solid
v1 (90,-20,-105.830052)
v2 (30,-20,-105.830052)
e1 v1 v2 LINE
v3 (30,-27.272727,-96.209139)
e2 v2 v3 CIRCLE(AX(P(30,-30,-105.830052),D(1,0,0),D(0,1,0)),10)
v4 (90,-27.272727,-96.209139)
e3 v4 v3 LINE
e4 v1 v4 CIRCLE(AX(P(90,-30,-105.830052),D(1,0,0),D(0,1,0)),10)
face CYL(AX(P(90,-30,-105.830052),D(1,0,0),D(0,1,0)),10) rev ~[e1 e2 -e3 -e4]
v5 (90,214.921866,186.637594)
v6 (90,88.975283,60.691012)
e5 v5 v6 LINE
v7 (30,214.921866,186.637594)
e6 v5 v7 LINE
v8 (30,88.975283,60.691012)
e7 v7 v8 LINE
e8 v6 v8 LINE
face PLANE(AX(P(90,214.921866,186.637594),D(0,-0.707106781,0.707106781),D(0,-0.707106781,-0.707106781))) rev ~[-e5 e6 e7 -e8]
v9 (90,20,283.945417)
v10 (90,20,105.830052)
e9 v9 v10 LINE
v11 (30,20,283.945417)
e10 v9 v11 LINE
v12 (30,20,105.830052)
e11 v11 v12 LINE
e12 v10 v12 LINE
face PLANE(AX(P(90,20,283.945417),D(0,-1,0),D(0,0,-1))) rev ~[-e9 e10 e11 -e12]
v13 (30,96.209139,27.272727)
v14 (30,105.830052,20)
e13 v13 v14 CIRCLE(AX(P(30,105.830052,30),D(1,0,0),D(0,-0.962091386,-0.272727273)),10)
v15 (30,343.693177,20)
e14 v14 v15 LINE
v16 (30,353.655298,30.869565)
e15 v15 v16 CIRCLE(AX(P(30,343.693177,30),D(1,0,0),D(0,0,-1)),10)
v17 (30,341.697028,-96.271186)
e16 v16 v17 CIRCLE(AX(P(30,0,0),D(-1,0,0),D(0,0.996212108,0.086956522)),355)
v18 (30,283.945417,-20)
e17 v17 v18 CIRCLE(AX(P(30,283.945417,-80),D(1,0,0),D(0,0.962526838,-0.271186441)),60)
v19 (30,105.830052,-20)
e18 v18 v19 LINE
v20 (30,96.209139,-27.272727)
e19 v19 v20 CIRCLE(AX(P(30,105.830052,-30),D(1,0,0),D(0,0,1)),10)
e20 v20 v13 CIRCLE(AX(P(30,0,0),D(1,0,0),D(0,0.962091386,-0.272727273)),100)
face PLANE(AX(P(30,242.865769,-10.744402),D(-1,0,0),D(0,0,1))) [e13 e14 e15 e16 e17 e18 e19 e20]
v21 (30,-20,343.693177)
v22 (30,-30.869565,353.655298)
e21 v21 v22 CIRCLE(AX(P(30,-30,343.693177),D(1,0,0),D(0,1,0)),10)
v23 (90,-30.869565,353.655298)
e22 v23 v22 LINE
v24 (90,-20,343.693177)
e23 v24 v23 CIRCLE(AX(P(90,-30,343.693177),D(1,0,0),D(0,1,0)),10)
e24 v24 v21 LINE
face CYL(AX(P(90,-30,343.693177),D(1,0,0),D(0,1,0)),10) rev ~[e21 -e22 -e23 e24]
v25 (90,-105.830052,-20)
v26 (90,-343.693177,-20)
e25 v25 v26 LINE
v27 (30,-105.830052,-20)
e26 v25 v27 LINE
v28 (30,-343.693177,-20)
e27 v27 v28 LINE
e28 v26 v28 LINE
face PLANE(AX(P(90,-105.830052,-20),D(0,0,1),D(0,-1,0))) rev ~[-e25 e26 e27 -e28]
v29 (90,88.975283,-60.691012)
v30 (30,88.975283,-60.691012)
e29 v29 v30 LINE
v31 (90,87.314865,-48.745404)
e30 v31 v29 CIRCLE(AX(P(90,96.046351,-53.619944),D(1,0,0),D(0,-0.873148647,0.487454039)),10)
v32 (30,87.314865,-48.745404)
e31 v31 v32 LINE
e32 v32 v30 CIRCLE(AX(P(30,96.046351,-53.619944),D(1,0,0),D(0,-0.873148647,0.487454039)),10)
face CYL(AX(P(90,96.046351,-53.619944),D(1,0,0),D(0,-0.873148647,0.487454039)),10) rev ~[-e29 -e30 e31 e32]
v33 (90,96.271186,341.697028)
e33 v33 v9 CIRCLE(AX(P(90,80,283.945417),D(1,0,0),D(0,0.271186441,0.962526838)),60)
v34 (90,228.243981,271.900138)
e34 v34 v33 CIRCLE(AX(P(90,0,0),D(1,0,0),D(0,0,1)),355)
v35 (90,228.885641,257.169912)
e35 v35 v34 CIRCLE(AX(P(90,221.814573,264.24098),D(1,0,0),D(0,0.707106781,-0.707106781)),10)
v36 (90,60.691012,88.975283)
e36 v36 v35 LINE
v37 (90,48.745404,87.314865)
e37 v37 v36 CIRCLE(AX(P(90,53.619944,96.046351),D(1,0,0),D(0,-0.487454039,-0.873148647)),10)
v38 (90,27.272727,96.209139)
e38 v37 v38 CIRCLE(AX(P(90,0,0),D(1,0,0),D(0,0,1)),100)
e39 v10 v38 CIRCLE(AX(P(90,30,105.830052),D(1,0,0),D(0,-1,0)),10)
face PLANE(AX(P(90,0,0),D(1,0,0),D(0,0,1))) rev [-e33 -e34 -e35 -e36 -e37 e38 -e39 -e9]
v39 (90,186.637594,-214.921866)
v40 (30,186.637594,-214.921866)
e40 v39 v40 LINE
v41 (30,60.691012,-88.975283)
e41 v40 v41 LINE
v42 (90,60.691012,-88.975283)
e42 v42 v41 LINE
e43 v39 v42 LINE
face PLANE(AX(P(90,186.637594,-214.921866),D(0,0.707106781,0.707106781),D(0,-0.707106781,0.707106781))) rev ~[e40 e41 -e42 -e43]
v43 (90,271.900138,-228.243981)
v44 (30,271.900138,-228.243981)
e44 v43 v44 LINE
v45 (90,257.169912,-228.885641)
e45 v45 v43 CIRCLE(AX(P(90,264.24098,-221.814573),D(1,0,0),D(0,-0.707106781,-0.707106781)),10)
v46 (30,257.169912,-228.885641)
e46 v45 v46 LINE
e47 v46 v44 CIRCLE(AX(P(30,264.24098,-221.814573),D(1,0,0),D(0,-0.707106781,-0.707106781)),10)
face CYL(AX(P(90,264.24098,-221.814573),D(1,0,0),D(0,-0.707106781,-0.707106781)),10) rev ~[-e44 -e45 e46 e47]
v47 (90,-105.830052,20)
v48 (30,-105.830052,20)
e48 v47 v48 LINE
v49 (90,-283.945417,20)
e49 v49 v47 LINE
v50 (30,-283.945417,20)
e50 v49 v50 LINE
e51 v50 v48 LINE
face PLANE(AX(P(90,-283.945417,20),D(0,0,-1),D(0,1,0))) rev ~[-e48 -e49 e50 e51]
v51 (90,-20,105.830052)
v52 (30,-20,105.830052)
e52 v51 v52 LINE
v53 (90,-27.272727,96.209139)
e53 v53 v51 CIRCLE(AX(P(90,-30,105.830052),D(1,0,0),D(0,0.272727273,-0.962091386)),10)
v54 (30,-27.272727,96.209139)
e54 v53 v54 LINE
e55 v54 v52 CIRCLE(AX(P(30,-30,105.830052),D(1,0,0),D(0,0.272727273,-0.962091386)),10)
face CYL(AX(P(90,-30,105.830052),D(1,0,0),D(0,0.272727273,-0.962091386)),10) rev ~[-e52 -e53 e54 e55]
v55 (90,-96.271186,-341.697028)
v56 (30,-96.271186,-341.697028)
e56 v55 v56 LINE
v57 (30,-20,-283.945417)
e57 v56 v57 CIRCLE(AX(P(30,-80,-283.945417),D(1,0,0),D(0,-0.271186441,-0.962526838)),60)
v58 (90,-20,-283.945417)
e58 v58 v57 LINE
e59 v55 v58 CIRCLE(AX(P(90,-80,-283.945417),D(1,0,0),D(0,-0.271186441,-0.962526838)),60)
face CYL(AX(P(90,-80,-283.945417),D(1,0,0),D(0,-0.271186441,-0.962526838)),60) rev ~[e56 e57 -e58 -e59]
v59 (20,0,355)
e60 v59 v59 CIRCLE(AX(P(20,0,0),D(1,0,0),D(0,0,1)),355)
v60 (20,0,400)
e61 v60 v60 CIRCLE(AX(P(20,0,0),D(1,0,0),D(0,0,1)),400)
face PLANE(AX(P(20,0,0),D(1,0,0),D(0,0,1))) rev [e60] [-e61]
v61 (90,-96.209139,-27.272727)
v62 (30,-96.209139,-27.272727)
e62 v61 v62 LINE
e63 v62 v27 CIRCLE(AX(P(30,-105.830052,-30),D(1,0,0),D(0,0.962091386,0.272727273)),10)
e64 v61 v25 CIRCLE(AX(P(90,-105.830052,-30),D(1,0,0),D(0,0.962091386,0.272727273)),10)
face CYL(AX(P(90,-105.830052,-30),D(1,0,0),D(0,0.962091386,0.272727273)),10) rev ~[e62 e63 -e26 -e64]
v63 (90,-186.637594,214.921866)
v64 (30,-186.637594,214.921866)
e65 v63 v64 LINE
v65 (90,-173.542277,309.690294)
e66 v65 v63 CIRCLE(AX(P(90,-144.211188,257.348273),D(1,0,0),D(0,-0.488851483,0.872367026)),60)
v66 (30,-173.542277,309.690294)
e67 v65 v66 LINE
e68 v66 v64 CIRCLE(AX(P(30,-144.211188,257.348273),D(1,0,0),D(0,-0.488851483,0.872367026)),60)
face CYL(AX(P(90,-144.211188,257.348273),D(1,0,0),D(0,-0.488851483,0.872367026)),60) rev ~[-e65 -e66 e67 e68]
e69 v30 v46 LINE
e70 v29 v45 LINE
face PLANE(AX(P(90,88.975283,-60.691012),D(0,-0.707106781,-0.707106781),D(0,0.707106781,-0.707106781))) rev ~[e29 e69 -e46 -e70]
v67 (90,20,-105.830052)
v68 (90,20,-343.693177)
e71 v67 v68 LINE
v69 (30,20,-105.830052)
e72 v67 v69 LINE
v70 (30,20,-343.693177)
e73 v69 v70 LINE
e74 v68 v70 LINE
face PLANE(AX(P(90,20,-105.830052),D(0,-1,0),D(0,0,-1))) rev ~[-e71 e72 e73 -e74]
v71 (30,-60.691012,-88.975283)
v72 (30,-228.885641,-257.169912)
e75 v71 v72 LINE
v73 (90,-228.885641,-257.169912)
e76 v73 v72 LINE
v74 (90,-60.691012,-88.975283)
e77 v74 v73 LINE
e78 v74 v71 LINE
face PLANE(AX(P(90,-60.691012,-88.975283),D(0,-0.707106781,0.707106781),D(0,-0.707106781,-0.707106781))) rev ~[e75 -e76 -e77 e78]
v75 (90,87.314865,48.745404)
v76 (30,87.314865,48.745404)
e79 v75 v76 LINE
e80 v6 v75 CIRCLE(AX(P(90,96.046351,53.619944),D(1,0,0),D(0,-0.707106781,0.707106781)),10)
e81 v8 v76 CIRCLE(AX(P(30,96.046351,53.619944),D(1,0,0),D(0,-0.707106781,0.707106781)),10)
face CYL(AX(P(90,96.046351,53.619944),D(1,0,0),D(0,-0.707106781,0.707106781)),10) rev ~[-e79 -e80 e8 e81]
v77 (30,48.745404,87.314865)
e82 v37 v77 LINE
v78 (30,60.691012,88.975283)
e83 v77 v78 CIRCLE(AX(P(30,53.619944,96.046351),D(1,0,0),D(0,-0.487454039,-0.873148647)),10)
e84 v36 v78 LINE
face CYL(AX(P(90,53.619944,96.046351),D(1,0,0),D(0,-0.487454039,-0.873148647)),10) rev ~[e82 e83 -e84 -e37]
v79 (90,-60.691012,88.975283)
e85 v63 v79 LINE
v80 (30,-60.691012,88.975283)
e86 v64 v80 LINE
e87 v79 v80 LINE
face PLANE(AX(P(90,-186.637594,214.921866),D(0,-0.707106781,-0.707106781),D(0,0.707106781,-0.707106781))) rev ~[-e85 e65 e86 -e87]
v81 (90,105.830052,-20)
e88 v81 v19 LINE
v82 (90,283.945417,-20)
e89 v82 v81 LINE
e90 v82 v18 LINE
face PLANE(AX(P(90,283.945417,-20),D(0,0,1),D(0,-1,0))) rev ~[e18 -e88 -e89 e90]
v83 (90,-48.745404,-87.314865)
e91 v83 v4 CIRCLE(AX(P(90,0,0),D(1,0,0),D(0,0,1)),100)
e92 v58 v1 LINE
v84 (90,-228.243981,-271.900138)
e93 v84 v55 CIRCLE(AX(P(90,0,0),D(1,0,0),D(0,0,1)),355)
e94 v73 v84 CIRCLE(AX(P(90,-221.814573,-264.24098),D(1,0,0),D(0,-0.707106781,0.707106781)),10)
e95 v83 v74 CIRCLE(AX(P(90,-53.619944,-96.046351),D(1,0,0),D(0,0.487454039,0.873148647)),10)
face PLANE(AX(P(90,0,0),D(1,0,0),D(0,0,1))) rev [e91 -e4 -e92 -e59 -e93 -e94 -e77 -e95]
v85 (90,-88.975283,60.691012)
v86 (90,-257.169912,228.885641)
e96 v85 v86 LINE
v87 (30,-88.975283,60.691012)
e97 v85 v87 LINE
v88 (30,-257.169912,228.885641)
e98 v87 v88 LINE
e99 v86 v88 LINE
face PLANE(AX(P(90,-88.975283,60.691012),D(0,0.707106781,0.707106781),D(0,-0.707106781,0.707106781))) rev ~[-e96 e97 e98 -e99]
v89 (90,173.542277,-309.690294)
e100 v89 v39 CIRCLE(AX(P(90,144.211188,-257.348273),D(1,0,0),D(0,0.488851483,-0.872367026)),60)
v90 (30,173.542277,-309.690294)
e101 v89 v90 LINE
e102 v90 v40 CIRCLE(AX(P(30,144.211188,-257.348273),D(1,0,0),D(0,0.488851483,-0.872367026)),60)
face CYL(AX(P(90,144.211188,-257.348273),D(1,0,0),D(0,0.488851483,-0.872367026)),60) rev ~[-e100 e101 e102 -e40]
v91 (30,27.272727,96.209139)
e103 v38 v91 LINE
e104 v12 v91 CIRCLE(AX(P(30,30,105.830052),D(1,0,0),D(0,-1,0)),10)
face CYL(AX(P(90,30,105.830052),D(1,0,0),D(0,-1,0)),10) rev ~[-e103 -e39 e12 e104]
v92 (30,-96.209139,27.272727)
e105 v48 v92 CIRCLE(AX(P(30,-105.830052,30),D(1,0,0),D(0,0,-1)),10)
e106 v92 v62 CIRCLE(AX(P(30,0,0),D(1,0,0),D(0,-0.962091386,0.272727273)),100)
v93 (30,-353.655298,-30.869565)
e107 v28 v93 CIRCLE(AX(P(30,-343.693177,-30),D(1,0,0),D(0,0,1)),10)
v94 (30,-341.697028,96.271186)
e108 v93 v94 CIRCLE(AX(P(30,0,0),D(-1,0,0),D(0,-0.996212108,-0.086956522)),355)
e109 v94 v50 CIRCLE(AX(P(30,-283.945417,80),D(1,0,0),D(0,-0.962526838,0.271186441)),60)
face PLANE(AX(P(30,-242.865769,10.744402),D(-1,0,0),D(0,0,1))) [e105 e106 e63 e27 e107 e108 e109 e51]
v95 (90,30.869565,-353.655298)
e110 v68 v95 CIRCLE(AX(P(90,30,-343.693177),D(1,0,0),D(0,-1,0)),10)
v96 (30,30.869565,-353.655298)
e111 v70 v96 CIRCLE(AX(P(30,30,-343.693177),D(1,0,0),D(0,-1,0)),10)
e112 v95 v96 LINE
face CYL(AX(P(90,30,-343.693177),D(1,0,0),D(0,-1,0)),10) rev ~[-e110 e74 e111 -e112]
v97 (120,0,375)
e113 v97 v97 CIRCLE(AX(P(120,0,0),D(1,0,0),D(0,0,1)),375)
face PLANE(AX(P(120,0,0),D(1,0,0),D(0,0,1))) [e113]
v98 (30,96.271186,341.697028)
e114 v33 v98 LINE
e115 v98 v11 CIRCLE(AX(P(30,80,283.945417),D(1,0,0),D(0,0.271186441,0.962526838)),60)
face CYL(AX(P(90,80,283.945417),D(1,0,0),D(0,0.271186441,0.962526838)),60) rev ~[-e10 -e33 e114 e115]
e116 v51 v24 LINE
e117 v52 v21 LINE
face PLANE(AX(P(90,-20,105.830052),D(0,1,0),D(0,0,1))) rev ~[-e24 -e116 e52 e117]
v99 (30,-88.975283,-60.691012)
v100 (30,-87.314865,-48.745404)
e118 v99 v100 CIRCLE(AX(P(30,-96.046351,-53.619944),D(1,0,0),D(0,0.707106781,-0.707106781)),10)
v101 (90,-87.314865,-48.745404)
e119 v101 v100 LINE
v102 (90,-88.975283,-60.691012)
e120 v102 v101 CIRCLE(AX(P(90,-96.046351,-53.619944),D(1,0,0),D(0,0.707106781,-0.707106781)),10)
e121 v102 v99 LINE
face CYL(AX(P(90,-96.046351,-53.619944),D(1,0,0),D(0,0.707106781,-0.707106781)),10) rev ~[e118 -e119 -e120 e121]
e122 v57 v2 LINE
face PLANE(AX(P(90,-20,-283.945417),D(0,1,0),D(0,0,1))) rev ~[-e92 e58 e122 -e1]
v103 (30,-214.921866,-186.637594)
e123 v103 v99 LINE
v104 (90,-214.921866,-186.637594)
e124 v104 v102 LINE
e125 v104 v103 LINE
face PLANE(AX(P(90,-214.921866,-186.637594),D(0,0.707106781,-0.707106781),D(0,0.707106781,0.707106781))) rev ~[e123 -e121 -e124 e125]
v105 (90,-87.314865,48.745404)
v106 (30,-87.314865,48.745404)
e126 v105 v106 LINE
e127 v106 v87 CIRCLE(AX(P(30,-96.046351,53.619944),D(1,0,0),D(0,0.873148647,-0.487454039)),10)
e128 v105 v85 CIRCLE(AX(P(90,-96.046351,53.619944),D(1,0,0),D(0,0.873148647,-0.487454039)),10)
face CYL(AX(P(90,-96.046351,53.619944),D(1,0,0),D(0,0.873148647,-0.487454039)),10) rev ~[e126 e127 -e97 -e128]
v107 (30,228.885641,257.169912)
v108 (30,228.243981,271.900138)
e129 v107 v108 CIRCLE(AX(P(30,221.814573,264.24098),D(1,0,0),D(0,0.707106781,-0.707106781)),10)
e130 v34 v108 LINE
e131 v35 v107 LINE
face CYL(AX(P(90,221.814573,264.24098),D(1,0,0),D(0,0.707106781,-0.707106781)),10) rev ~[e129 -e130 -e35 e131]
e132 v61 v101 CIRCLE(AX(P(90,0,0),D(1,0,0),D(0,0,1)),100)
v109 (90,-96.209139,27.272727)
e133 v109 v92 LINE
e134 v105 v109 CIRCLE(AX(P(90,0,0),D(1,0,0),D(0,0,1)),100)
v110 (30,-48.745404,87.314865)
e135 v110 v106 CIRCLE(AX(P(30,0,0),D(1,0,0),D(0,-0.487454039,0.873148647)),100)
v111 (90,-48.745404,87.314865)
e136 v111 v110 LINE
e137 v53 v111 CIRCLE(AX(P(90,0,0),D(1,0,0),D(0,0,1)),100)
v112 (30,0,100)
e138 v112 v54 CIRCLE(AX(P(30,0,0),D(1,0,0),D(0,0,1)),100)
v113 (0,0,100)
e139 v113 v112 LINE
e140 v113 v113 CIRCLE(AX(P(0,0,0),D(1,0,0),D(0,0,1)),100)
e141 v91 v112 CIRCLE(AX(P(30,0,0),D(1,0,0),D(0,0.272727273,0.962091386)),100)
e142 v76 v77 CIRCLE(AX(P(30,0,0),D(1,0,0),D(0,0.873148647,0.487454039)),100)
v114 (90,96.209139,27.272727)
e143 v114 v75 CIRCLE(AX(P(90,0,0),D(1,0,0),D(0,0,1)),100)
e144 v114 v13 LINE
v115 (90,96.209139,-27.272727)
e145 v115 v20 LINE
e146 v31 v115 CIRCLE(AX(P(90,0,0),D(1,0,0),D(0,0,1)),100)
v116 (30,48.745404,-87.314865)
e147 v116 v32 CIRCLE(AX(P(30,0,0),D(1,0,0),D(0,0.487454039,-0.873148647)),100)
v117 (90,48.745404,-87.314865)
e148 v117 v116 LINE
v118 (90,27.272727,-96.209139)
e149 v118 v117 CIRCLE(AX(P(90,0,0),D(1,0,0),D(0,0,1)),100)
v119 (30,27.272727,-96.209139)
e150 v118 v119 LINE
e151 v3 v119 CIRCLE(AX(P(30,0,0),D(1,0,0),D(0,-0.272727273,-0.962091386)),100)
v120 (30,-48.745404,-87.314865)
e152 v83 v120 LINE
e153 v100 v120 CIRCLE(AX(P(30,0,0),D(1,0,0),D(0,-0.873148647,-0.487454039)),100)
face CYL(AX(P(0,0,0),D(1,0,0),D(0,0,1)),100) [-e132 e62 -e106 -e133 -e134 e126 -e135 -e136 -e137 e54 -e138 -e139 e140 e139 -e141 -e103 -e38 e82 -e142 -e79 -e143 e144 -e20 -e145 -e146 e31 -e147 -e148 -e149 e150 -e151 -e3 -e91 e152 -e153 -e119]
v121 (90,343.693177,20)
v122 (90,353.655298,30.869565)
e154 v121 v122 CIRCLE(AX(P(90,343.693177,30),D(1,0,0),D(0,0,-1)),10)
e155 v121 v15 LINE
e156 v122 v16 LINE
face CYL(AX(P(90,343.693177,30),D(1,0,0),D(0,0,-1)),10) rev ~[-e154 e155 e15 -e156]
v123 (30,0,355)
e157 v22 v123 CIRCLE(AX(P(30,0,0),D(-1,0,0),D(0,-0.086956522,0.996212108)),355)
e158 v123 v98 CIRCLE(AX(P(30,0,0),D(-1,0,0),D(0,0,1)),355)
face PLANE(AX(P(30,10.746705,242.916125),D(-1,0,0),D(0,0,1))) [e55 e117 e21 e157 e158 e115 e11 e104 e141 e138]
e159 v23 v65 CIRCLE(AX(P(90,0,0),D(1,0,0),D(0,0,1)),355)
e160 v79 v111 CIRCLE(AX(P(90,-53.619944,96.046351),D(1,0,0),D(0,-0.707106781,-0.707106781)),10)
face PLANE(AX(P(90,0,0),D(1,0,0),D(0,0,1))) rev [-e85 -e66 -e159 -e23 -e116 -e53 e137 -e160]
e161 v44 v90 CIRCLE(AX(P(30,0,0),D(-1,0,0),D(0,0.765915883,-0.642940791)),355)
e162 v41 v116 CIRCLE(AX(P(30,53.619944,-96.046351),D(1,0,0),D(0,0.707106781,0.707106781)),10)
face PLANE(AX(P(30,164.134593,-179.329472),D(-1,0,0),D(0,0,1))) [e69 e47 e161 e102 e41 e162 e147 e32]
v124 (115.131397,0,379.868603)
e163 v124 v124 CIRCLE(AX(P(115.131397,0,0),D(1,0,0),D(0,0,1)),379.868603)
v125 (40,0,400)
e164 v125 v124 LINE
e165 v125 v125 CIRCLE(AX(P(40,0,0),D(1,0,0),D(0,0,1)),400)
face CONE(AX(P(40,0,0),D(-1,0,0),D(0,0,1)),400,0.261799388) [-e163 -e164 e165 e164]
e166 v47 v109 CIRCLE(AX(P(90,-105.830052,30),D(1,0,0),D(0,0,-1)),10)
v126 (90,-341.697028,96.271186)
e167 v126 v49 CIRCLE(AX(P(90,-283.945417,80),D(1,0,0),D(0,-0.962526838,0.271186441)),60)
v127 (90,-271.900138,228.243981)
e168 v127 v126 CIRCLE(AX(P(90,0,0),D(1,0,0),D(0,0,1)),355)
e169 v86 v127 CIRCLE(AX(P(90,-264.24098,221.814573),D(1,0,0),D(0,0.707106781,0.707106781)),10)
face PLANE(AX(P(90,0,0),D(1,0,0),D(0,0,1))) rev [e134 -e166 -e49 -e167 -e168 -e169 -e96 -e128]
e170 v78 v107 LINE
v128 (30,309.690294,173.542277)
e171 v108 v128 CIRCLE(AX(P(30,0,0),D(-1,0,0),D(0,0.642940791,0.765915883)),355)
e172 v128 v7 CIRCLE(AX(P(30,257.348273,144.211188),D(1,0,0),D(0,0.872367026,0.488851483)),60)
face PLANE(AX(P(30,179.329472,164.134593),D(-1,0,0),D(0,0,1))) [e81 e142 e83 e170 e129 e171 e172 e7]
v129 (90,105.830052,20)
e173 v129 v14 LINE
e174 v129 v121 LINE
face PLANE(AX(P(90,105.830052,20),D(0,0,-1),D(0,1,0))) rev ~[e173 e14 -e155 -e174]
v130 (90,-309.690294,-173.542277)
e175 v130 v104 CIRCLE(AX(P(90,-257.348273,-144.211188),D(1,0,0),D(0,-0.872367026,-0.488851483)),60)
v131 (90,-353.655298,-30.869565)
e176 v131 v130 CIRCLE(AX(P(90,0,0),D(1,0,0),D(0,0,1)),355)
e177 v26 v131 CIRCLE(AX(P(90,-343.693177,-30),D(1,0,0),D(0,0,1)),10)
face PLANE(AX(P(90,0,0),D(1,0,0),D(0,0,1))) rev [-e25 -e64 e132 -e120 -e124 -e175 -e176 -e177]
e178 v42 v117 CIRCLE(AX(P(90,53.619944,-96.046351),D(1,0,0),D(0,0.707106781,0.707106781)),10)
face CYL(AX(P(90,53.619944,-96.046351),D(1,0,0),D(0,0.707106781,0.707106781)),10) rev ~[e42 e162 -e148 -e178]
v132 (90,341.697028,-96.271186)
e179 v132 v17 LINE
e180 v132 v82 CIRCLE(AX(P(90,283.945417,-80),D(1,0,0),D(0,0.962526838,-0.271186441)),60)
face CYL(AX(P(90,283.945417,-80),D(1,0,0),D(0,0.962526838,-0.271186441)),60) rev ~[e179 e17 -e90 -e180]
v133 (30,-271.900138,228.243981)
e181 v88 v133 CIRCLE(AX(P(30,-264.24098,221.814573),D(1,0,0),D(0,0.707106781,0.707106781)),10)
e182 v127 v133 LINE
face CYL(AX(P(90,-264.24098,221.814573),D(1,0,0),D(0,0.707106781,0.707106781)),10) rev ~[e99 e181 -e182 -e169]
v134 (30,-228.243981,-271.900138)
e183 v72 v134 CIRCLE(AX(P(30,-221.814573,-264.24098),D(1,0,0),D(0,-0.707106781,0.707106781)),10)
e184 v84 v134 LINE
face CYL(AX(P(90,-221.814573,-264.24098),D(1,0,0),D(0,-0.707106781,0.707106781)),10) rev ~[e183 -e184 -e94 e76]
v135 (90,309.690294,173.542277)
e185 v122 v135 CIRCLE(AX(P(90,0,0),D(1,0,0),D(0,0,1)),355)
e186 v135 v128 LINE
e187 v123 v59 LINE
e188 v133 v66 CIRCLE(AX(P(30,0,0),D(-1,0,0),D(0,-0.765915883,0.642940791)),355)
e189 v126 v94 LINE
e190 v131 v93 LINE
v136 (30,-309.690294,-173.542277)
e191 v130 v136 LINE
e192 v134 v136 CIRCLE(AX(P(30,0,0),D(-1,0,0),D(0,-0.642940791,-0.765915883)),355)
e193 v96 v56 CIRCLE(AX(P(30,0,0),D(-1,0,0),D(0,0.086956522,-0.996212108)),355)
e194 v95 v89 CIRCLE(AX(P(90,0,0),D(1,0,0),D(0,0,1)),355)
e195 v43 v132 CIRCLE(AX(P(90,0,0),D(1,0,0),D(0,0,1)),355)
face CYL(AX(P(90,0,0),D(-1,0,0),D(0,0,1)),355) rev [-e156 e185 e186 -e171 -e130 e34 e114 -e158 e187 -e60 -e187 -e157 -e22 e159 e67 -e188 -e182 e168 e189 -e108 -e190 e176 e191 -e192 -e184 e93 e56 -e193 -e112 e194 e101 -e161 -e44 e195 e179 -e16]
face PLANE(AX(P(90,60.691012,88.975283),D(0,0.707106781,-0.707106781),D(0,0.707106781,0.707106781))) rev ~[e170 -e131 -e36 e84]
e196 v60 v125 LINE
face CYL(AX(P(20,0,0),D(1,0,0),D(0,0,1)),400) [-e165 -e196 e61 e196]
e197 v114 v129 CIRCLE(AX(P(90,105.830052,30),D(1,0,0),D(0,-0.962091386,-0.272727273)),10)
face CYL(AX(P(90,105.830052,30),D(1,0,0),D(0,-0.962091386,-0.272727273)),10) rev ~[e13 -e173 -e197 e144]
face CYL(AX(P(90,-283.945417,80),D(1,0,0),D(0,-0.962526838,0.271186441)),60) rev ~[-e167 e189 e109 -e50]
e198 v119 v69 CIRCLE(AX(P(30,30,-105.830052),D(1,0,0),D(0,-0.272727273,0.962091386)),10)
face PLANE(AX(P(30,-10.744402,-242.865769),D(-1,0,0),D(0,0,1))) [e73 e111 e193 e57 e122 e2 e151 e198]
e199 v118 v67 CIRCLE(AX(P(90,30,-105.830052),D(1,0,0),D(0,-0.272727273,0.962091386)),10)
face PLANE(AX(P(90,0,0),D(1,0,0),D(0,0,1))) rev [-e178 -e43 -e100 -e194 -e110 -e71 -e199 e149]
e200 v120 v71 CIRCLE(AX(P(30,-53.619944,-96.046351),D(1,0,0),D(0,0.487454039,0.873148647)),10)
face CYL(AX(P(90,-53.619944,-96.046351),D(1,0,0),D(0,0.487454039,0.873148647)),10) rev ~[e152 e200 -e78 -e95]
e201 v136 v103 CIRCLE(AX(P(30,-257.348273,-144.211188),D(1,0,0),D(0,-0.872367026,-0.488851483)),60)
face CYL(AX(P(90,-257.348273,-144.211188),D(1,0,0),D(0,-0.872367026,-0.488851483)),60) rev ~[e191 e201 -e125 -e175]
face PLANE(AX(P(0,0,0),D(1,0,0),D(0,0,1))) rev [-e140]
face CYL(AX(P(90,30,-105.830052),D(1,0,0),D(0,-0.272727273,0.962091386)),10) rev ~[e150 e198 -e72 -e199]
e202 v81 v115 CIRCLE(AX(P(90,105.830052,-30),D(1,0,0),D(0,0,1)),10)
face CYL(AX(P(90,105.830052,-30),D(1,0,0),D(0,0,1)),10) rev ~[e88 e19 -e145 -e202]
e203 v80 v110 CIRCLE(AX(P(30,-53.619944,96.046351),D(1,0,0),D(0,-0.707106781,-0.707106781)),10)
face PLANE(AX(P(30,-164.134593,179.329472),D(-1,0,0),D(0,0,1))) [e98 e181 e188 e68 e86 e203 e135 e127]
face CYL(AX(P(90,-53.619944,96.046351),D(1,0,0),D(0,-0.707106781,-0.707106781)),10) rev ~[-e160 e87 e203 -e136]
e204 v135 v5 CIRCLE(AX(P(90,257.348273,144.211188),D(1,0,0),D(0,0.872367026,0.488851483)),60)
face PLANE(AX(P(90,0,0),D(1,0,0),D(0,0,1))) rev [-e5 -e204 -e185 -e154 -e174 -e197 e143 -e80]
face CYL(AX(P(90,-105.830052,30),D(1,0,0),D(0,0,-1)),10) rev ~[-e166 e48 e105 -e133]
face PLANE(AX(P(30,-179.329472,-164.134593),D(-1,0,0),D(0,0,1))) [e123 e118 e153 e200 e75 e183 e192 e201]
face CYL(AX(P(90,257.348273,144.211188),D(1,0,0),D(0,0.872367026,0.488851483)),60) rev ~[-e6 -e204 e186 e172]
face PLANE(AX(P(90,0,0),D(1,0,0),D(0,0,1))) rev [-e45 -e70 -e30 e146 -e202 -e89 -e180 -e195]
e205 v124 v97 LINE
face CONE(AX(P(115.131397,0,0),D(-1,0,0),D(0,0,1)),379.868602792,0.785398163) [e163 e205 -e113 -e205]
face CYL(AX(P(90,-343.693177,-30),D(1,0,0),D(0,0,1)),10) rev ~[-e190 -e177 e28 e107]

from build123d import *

# Parameters (mm, degrees)
EXTRUDE_6_DEPTH = 60


with BuildPart() as part:
    # Эскиз1 → Повернуть7 (revolve)
    with BuildSketch(Plane.XY, mode=Mode.PRIVATE) as revolve_7_sk:
        Polygon((120, 0), (0, 0), (0, -100), (90, -100), (90, -355), (20, -355), (20, -400), (40, -400), (115.131397208, -379.868602792), (120, -375), align=None)
    revolve(revolve_7_sk.sketch.rotate(Axis((0, 0, 0), (1, 0, 0)), 270), axis=Axis((0, 0, 0), (1, 0, 0)))

    # Эскиз3 → Бобышка-Вытянуть6 (add)
    with BuildSketch(Plane.ZY.offset(-90)):
        with BuildLine():
            ThreePointArc((-48.745403909, -87.314864701), (-70.710678119, -70.710678119), (-87.314864701, -48.745403909))
            ThreePointArc((-87.314864701, -48.745403909), (-86.141576096, -54.996690721), (-88.975283359, -60.691012112))
            Line((-88.975283359, -60.691012112), (-257.169911814, -228.885640567))
            ThreePointArc((-257.169911814, -228.885640567), (-264.676174548, -231.805098536), (-271.900138456, -228.243980661))
            ThreePointArc((-271.900138456, -228.243980661), (-226.413585645, -273.42620254), (-173.542276552, -309.690294083))
            ThreePointArc((-173.542276552, -309.690294083), (-203.646432227, -265.561170399), (-186.637594429, -214.921865676))
            Line((-186.637594429, -214.921865676), (-60.691012112, -88.975283359))
            ThreePointArc((-60.691012112, -88.975283359), (-54.996690721, -86.141576096), (-48.745403909, -87.314864701))
        make_face()
        with BuildLine():
            ThreePointArc((-96.209138584, -27.272727273), (-100, 0), (-96.209138584, 27.272727273))
            ThreePointArc((-96.209138584, 27.272727273), (-99.799825551, 22.022759648), (-105.830052443, 20))
            Line((-105.830052443, 20), (-343.693177122, 20))
            ThreePointArc((-343.693177122, 20), (-351.065274929, 23.243360753), (-353.655298198, 30.869565217))
            ThreePointArc((-353.655298198, 30.869565217), (-353.440103732, -33.242940208), (-341.697027586, -96.271186441))
            ThreePointArc((-341.697027586, -96.271186441), (-331.779877601, -43.780331217), (-283.94541729, -20))
            Line((-283.94541729, -20), (-105.830052443, -20))
            ThreePointArc((-105.830052443, -20), (-99.799825551, -22.022759648), (-96.209138584, -27.272727273))
        make_face()
        with BuildLine():
            ThreePointArc((-87.314864701, 48.745403909), (-70.710678119, 70.710678119), (-48.745403909, 87.314864701))
            ThreePointArc((-48.745403909, 87.314864701), (-54.996690721, 86.141576096), (-60.691012112, 88.975283359))
            Line((-60.691012112, 88.975283359), (-228.885640567, 257.169911814))
            ThreePointArc((-228.885640567, 257.169911814), (-231.805098536, 264.676174548), (-228.243980661, 271.900138456))
            ThreePointArc((-228.243980661, 271.900138456), (-273.42620254, 226.413585645), (-309.690294083, 173.542276552))
            ThreePointArc((-309.690294083, 173.542276552), (-265.561170399, 203.646432227), (-214.921865676, 186.637594429))
            Line((-214.921865676, 186.637594429), (-88.975283359, 60.691012112))
            ThreePointArc((-88.975283359, 60.691012112), (-86.141576096, 54.996690721), (-87.314864701, 48.745403909))
        make_face()
        with BuildLine():
            ThreePointArc((27.272727273, 96.209138584), (22.022759648, 99.799825551), (20, 105.830052443))
            Line((20, 105.830052443), (20, 343.693177122))
            ThreePointArc((20, 343.693177122), (23.243360753, 351.065274929), (30.869565217, 353.655298198))
            ThreePointArc((30.869565217, 353.655298198), (-33.242940208, 353.440103732), (-96.271186441, 341.697027586))
            ThreePointArc((-96.271186441, 341.697027586), (-43.780331217, 331.779877601), (-20, 283.94541729))
            Line((-20, 283.94541729), (-20, 105.830052443))
            ThreePointArc((-20, 105.830052443), (-22.022759648, 99.799825551), (-27.272727273, 96.209138584))
            ThreePointArc((-27.272727273, 96.209138584), (0, 100), (27.272727273, 96.209138584))
        make_face()
        with BuildLine():
            ThreePointArc((60.691012112, 88.975283359), (54.996690721, 86.141576096), (48.745403909, 87.314864701))
            ThreePointArc((48.745403909, 87.314864701), (70.710678119, 70.710678119), (87.314864701, 48.745403909))
            ThreePointArc((87.314864701, 48.745403909), (86.141576096, 54.996690721), (88.975283359, 60.691012112))
            Line((88.975283359, 60.691012112), (257.169911814, 228.885640567))
            ThreePointArc((257.169911814, 228.885640567), (264.676174548, 231.805098536), (271.900138456, 228.243980661))
            ThreePointArc((271.900138456, 228.243980661), (226.413585645, 273.42620254), (173.542276552, 309.690294083))
            ThreePointArc((173.542276552, 309.690294083), (203.646432227, 265.561170399), (186.637594429, 214.921865676))
            Line((186.637594429, 214.921865676), (60.691012112, 88.975283359))
        make_face()
        with BuildLine():
            ThreePointArc((105.830052443, 20), (99.799825551, 22.022759648), (96.209138584, 27.272727273))
            ThreePointArc((96.209138584, 27.272727273), (99.047750753, 13.767464211), (100, 0))
            ThreePointArc((100, 0), (99.047750753, -13.767464211), (96.209138584, -27.272727273))
            ThreePointArc((96.209138584, -27.272727273), (99.799825551, -22.022759648), (105.830052443, -20))
            Line((105.830052443, -20), (343.693177122, -20))
            ThreePointArc((343.693177122, -20), (351.065274929, -23.243360753), (353.655298198, -30.869565217))
            ThreePointArc((353.655298198, -30.869565217), (354.663665224, -15.449419727), (355, 0))
            ThreePointArc((355, 0), (351.658530959, 48.592978952), (341.697027586, 96.271186441))
            ThreePointArc((341.697027586, 96.271186441), (331.779877601, 43.780331217), (283.94541729, 20))
            Line((283.94541729, 20), (105.830052443, 20))
        make_face()
        with BuildLine():
            ThreePointArc((88.975283359, -60.691012112), (86.141576096, -54.996690721), (87.314864701, -48.745403909))
            ThreePointArc((87.314864701, -48.745403909), (70.710678119, -70.710678119), (48.745403909, -87.314864701))
            ThreePointArc((48.745403909, -87.314864701), (54.996690721, -86.141576096), (60.691012112, -88.975283359))
            Line((60.691012112, -88.975283359), (228.885640567, -257.169911814))
            ThreePointArc((228.885640567, -257.169911814), (231.805098536, -264.676174548), (228.243980661, -271.900138456))
            ThreePointArc((228.243980661, -271.900138456), (273.42620254, -226.413585645), (309.690294083, -173.542276552))
            ThreePointArc((309.690294083, -173.542276552), (265.561170399, -203.646432227), (214.921865676, -186.637594429))
            Line((214.921865676, -186.637594429), (88.975283359, -60.691012112))
        make_face()
        with BuildLine():
            ThreePointArc((20, -105.830052443), (22.022759648, -99.799825551), (27.272727273, -96.209138584))
            ThreePointArc((27.272727273, -96.209138584), (0, -100), (-27.272727273, -96.209138584))
            ThreePointArc((-27.272727273, -96.209138584), (-22.022759648, -99.799825551), (-20, -105.830052443))
            Line((-20, -105.830052443), (-20, -343.693177122))
            ThreePointArc((-20, -343.693177122), (-23.243360753, -351.065274929), (-30.869565217, -353.655298198))
            ThreePointArc((-30.869565217, -353.655298198), (33.242940208, -353.440103732), (96.271186441, -341.697027586))
            ThreePointArc((96.271186441, -341.697027586), (43.780331217, -331.779877601), (20, -283.94541729))
            Line((20, -283.94541729), (20, -105.830052443))
        make_face()
    extrude(amount=EXTRUDE_6_DEPTH)


solid = part.part
